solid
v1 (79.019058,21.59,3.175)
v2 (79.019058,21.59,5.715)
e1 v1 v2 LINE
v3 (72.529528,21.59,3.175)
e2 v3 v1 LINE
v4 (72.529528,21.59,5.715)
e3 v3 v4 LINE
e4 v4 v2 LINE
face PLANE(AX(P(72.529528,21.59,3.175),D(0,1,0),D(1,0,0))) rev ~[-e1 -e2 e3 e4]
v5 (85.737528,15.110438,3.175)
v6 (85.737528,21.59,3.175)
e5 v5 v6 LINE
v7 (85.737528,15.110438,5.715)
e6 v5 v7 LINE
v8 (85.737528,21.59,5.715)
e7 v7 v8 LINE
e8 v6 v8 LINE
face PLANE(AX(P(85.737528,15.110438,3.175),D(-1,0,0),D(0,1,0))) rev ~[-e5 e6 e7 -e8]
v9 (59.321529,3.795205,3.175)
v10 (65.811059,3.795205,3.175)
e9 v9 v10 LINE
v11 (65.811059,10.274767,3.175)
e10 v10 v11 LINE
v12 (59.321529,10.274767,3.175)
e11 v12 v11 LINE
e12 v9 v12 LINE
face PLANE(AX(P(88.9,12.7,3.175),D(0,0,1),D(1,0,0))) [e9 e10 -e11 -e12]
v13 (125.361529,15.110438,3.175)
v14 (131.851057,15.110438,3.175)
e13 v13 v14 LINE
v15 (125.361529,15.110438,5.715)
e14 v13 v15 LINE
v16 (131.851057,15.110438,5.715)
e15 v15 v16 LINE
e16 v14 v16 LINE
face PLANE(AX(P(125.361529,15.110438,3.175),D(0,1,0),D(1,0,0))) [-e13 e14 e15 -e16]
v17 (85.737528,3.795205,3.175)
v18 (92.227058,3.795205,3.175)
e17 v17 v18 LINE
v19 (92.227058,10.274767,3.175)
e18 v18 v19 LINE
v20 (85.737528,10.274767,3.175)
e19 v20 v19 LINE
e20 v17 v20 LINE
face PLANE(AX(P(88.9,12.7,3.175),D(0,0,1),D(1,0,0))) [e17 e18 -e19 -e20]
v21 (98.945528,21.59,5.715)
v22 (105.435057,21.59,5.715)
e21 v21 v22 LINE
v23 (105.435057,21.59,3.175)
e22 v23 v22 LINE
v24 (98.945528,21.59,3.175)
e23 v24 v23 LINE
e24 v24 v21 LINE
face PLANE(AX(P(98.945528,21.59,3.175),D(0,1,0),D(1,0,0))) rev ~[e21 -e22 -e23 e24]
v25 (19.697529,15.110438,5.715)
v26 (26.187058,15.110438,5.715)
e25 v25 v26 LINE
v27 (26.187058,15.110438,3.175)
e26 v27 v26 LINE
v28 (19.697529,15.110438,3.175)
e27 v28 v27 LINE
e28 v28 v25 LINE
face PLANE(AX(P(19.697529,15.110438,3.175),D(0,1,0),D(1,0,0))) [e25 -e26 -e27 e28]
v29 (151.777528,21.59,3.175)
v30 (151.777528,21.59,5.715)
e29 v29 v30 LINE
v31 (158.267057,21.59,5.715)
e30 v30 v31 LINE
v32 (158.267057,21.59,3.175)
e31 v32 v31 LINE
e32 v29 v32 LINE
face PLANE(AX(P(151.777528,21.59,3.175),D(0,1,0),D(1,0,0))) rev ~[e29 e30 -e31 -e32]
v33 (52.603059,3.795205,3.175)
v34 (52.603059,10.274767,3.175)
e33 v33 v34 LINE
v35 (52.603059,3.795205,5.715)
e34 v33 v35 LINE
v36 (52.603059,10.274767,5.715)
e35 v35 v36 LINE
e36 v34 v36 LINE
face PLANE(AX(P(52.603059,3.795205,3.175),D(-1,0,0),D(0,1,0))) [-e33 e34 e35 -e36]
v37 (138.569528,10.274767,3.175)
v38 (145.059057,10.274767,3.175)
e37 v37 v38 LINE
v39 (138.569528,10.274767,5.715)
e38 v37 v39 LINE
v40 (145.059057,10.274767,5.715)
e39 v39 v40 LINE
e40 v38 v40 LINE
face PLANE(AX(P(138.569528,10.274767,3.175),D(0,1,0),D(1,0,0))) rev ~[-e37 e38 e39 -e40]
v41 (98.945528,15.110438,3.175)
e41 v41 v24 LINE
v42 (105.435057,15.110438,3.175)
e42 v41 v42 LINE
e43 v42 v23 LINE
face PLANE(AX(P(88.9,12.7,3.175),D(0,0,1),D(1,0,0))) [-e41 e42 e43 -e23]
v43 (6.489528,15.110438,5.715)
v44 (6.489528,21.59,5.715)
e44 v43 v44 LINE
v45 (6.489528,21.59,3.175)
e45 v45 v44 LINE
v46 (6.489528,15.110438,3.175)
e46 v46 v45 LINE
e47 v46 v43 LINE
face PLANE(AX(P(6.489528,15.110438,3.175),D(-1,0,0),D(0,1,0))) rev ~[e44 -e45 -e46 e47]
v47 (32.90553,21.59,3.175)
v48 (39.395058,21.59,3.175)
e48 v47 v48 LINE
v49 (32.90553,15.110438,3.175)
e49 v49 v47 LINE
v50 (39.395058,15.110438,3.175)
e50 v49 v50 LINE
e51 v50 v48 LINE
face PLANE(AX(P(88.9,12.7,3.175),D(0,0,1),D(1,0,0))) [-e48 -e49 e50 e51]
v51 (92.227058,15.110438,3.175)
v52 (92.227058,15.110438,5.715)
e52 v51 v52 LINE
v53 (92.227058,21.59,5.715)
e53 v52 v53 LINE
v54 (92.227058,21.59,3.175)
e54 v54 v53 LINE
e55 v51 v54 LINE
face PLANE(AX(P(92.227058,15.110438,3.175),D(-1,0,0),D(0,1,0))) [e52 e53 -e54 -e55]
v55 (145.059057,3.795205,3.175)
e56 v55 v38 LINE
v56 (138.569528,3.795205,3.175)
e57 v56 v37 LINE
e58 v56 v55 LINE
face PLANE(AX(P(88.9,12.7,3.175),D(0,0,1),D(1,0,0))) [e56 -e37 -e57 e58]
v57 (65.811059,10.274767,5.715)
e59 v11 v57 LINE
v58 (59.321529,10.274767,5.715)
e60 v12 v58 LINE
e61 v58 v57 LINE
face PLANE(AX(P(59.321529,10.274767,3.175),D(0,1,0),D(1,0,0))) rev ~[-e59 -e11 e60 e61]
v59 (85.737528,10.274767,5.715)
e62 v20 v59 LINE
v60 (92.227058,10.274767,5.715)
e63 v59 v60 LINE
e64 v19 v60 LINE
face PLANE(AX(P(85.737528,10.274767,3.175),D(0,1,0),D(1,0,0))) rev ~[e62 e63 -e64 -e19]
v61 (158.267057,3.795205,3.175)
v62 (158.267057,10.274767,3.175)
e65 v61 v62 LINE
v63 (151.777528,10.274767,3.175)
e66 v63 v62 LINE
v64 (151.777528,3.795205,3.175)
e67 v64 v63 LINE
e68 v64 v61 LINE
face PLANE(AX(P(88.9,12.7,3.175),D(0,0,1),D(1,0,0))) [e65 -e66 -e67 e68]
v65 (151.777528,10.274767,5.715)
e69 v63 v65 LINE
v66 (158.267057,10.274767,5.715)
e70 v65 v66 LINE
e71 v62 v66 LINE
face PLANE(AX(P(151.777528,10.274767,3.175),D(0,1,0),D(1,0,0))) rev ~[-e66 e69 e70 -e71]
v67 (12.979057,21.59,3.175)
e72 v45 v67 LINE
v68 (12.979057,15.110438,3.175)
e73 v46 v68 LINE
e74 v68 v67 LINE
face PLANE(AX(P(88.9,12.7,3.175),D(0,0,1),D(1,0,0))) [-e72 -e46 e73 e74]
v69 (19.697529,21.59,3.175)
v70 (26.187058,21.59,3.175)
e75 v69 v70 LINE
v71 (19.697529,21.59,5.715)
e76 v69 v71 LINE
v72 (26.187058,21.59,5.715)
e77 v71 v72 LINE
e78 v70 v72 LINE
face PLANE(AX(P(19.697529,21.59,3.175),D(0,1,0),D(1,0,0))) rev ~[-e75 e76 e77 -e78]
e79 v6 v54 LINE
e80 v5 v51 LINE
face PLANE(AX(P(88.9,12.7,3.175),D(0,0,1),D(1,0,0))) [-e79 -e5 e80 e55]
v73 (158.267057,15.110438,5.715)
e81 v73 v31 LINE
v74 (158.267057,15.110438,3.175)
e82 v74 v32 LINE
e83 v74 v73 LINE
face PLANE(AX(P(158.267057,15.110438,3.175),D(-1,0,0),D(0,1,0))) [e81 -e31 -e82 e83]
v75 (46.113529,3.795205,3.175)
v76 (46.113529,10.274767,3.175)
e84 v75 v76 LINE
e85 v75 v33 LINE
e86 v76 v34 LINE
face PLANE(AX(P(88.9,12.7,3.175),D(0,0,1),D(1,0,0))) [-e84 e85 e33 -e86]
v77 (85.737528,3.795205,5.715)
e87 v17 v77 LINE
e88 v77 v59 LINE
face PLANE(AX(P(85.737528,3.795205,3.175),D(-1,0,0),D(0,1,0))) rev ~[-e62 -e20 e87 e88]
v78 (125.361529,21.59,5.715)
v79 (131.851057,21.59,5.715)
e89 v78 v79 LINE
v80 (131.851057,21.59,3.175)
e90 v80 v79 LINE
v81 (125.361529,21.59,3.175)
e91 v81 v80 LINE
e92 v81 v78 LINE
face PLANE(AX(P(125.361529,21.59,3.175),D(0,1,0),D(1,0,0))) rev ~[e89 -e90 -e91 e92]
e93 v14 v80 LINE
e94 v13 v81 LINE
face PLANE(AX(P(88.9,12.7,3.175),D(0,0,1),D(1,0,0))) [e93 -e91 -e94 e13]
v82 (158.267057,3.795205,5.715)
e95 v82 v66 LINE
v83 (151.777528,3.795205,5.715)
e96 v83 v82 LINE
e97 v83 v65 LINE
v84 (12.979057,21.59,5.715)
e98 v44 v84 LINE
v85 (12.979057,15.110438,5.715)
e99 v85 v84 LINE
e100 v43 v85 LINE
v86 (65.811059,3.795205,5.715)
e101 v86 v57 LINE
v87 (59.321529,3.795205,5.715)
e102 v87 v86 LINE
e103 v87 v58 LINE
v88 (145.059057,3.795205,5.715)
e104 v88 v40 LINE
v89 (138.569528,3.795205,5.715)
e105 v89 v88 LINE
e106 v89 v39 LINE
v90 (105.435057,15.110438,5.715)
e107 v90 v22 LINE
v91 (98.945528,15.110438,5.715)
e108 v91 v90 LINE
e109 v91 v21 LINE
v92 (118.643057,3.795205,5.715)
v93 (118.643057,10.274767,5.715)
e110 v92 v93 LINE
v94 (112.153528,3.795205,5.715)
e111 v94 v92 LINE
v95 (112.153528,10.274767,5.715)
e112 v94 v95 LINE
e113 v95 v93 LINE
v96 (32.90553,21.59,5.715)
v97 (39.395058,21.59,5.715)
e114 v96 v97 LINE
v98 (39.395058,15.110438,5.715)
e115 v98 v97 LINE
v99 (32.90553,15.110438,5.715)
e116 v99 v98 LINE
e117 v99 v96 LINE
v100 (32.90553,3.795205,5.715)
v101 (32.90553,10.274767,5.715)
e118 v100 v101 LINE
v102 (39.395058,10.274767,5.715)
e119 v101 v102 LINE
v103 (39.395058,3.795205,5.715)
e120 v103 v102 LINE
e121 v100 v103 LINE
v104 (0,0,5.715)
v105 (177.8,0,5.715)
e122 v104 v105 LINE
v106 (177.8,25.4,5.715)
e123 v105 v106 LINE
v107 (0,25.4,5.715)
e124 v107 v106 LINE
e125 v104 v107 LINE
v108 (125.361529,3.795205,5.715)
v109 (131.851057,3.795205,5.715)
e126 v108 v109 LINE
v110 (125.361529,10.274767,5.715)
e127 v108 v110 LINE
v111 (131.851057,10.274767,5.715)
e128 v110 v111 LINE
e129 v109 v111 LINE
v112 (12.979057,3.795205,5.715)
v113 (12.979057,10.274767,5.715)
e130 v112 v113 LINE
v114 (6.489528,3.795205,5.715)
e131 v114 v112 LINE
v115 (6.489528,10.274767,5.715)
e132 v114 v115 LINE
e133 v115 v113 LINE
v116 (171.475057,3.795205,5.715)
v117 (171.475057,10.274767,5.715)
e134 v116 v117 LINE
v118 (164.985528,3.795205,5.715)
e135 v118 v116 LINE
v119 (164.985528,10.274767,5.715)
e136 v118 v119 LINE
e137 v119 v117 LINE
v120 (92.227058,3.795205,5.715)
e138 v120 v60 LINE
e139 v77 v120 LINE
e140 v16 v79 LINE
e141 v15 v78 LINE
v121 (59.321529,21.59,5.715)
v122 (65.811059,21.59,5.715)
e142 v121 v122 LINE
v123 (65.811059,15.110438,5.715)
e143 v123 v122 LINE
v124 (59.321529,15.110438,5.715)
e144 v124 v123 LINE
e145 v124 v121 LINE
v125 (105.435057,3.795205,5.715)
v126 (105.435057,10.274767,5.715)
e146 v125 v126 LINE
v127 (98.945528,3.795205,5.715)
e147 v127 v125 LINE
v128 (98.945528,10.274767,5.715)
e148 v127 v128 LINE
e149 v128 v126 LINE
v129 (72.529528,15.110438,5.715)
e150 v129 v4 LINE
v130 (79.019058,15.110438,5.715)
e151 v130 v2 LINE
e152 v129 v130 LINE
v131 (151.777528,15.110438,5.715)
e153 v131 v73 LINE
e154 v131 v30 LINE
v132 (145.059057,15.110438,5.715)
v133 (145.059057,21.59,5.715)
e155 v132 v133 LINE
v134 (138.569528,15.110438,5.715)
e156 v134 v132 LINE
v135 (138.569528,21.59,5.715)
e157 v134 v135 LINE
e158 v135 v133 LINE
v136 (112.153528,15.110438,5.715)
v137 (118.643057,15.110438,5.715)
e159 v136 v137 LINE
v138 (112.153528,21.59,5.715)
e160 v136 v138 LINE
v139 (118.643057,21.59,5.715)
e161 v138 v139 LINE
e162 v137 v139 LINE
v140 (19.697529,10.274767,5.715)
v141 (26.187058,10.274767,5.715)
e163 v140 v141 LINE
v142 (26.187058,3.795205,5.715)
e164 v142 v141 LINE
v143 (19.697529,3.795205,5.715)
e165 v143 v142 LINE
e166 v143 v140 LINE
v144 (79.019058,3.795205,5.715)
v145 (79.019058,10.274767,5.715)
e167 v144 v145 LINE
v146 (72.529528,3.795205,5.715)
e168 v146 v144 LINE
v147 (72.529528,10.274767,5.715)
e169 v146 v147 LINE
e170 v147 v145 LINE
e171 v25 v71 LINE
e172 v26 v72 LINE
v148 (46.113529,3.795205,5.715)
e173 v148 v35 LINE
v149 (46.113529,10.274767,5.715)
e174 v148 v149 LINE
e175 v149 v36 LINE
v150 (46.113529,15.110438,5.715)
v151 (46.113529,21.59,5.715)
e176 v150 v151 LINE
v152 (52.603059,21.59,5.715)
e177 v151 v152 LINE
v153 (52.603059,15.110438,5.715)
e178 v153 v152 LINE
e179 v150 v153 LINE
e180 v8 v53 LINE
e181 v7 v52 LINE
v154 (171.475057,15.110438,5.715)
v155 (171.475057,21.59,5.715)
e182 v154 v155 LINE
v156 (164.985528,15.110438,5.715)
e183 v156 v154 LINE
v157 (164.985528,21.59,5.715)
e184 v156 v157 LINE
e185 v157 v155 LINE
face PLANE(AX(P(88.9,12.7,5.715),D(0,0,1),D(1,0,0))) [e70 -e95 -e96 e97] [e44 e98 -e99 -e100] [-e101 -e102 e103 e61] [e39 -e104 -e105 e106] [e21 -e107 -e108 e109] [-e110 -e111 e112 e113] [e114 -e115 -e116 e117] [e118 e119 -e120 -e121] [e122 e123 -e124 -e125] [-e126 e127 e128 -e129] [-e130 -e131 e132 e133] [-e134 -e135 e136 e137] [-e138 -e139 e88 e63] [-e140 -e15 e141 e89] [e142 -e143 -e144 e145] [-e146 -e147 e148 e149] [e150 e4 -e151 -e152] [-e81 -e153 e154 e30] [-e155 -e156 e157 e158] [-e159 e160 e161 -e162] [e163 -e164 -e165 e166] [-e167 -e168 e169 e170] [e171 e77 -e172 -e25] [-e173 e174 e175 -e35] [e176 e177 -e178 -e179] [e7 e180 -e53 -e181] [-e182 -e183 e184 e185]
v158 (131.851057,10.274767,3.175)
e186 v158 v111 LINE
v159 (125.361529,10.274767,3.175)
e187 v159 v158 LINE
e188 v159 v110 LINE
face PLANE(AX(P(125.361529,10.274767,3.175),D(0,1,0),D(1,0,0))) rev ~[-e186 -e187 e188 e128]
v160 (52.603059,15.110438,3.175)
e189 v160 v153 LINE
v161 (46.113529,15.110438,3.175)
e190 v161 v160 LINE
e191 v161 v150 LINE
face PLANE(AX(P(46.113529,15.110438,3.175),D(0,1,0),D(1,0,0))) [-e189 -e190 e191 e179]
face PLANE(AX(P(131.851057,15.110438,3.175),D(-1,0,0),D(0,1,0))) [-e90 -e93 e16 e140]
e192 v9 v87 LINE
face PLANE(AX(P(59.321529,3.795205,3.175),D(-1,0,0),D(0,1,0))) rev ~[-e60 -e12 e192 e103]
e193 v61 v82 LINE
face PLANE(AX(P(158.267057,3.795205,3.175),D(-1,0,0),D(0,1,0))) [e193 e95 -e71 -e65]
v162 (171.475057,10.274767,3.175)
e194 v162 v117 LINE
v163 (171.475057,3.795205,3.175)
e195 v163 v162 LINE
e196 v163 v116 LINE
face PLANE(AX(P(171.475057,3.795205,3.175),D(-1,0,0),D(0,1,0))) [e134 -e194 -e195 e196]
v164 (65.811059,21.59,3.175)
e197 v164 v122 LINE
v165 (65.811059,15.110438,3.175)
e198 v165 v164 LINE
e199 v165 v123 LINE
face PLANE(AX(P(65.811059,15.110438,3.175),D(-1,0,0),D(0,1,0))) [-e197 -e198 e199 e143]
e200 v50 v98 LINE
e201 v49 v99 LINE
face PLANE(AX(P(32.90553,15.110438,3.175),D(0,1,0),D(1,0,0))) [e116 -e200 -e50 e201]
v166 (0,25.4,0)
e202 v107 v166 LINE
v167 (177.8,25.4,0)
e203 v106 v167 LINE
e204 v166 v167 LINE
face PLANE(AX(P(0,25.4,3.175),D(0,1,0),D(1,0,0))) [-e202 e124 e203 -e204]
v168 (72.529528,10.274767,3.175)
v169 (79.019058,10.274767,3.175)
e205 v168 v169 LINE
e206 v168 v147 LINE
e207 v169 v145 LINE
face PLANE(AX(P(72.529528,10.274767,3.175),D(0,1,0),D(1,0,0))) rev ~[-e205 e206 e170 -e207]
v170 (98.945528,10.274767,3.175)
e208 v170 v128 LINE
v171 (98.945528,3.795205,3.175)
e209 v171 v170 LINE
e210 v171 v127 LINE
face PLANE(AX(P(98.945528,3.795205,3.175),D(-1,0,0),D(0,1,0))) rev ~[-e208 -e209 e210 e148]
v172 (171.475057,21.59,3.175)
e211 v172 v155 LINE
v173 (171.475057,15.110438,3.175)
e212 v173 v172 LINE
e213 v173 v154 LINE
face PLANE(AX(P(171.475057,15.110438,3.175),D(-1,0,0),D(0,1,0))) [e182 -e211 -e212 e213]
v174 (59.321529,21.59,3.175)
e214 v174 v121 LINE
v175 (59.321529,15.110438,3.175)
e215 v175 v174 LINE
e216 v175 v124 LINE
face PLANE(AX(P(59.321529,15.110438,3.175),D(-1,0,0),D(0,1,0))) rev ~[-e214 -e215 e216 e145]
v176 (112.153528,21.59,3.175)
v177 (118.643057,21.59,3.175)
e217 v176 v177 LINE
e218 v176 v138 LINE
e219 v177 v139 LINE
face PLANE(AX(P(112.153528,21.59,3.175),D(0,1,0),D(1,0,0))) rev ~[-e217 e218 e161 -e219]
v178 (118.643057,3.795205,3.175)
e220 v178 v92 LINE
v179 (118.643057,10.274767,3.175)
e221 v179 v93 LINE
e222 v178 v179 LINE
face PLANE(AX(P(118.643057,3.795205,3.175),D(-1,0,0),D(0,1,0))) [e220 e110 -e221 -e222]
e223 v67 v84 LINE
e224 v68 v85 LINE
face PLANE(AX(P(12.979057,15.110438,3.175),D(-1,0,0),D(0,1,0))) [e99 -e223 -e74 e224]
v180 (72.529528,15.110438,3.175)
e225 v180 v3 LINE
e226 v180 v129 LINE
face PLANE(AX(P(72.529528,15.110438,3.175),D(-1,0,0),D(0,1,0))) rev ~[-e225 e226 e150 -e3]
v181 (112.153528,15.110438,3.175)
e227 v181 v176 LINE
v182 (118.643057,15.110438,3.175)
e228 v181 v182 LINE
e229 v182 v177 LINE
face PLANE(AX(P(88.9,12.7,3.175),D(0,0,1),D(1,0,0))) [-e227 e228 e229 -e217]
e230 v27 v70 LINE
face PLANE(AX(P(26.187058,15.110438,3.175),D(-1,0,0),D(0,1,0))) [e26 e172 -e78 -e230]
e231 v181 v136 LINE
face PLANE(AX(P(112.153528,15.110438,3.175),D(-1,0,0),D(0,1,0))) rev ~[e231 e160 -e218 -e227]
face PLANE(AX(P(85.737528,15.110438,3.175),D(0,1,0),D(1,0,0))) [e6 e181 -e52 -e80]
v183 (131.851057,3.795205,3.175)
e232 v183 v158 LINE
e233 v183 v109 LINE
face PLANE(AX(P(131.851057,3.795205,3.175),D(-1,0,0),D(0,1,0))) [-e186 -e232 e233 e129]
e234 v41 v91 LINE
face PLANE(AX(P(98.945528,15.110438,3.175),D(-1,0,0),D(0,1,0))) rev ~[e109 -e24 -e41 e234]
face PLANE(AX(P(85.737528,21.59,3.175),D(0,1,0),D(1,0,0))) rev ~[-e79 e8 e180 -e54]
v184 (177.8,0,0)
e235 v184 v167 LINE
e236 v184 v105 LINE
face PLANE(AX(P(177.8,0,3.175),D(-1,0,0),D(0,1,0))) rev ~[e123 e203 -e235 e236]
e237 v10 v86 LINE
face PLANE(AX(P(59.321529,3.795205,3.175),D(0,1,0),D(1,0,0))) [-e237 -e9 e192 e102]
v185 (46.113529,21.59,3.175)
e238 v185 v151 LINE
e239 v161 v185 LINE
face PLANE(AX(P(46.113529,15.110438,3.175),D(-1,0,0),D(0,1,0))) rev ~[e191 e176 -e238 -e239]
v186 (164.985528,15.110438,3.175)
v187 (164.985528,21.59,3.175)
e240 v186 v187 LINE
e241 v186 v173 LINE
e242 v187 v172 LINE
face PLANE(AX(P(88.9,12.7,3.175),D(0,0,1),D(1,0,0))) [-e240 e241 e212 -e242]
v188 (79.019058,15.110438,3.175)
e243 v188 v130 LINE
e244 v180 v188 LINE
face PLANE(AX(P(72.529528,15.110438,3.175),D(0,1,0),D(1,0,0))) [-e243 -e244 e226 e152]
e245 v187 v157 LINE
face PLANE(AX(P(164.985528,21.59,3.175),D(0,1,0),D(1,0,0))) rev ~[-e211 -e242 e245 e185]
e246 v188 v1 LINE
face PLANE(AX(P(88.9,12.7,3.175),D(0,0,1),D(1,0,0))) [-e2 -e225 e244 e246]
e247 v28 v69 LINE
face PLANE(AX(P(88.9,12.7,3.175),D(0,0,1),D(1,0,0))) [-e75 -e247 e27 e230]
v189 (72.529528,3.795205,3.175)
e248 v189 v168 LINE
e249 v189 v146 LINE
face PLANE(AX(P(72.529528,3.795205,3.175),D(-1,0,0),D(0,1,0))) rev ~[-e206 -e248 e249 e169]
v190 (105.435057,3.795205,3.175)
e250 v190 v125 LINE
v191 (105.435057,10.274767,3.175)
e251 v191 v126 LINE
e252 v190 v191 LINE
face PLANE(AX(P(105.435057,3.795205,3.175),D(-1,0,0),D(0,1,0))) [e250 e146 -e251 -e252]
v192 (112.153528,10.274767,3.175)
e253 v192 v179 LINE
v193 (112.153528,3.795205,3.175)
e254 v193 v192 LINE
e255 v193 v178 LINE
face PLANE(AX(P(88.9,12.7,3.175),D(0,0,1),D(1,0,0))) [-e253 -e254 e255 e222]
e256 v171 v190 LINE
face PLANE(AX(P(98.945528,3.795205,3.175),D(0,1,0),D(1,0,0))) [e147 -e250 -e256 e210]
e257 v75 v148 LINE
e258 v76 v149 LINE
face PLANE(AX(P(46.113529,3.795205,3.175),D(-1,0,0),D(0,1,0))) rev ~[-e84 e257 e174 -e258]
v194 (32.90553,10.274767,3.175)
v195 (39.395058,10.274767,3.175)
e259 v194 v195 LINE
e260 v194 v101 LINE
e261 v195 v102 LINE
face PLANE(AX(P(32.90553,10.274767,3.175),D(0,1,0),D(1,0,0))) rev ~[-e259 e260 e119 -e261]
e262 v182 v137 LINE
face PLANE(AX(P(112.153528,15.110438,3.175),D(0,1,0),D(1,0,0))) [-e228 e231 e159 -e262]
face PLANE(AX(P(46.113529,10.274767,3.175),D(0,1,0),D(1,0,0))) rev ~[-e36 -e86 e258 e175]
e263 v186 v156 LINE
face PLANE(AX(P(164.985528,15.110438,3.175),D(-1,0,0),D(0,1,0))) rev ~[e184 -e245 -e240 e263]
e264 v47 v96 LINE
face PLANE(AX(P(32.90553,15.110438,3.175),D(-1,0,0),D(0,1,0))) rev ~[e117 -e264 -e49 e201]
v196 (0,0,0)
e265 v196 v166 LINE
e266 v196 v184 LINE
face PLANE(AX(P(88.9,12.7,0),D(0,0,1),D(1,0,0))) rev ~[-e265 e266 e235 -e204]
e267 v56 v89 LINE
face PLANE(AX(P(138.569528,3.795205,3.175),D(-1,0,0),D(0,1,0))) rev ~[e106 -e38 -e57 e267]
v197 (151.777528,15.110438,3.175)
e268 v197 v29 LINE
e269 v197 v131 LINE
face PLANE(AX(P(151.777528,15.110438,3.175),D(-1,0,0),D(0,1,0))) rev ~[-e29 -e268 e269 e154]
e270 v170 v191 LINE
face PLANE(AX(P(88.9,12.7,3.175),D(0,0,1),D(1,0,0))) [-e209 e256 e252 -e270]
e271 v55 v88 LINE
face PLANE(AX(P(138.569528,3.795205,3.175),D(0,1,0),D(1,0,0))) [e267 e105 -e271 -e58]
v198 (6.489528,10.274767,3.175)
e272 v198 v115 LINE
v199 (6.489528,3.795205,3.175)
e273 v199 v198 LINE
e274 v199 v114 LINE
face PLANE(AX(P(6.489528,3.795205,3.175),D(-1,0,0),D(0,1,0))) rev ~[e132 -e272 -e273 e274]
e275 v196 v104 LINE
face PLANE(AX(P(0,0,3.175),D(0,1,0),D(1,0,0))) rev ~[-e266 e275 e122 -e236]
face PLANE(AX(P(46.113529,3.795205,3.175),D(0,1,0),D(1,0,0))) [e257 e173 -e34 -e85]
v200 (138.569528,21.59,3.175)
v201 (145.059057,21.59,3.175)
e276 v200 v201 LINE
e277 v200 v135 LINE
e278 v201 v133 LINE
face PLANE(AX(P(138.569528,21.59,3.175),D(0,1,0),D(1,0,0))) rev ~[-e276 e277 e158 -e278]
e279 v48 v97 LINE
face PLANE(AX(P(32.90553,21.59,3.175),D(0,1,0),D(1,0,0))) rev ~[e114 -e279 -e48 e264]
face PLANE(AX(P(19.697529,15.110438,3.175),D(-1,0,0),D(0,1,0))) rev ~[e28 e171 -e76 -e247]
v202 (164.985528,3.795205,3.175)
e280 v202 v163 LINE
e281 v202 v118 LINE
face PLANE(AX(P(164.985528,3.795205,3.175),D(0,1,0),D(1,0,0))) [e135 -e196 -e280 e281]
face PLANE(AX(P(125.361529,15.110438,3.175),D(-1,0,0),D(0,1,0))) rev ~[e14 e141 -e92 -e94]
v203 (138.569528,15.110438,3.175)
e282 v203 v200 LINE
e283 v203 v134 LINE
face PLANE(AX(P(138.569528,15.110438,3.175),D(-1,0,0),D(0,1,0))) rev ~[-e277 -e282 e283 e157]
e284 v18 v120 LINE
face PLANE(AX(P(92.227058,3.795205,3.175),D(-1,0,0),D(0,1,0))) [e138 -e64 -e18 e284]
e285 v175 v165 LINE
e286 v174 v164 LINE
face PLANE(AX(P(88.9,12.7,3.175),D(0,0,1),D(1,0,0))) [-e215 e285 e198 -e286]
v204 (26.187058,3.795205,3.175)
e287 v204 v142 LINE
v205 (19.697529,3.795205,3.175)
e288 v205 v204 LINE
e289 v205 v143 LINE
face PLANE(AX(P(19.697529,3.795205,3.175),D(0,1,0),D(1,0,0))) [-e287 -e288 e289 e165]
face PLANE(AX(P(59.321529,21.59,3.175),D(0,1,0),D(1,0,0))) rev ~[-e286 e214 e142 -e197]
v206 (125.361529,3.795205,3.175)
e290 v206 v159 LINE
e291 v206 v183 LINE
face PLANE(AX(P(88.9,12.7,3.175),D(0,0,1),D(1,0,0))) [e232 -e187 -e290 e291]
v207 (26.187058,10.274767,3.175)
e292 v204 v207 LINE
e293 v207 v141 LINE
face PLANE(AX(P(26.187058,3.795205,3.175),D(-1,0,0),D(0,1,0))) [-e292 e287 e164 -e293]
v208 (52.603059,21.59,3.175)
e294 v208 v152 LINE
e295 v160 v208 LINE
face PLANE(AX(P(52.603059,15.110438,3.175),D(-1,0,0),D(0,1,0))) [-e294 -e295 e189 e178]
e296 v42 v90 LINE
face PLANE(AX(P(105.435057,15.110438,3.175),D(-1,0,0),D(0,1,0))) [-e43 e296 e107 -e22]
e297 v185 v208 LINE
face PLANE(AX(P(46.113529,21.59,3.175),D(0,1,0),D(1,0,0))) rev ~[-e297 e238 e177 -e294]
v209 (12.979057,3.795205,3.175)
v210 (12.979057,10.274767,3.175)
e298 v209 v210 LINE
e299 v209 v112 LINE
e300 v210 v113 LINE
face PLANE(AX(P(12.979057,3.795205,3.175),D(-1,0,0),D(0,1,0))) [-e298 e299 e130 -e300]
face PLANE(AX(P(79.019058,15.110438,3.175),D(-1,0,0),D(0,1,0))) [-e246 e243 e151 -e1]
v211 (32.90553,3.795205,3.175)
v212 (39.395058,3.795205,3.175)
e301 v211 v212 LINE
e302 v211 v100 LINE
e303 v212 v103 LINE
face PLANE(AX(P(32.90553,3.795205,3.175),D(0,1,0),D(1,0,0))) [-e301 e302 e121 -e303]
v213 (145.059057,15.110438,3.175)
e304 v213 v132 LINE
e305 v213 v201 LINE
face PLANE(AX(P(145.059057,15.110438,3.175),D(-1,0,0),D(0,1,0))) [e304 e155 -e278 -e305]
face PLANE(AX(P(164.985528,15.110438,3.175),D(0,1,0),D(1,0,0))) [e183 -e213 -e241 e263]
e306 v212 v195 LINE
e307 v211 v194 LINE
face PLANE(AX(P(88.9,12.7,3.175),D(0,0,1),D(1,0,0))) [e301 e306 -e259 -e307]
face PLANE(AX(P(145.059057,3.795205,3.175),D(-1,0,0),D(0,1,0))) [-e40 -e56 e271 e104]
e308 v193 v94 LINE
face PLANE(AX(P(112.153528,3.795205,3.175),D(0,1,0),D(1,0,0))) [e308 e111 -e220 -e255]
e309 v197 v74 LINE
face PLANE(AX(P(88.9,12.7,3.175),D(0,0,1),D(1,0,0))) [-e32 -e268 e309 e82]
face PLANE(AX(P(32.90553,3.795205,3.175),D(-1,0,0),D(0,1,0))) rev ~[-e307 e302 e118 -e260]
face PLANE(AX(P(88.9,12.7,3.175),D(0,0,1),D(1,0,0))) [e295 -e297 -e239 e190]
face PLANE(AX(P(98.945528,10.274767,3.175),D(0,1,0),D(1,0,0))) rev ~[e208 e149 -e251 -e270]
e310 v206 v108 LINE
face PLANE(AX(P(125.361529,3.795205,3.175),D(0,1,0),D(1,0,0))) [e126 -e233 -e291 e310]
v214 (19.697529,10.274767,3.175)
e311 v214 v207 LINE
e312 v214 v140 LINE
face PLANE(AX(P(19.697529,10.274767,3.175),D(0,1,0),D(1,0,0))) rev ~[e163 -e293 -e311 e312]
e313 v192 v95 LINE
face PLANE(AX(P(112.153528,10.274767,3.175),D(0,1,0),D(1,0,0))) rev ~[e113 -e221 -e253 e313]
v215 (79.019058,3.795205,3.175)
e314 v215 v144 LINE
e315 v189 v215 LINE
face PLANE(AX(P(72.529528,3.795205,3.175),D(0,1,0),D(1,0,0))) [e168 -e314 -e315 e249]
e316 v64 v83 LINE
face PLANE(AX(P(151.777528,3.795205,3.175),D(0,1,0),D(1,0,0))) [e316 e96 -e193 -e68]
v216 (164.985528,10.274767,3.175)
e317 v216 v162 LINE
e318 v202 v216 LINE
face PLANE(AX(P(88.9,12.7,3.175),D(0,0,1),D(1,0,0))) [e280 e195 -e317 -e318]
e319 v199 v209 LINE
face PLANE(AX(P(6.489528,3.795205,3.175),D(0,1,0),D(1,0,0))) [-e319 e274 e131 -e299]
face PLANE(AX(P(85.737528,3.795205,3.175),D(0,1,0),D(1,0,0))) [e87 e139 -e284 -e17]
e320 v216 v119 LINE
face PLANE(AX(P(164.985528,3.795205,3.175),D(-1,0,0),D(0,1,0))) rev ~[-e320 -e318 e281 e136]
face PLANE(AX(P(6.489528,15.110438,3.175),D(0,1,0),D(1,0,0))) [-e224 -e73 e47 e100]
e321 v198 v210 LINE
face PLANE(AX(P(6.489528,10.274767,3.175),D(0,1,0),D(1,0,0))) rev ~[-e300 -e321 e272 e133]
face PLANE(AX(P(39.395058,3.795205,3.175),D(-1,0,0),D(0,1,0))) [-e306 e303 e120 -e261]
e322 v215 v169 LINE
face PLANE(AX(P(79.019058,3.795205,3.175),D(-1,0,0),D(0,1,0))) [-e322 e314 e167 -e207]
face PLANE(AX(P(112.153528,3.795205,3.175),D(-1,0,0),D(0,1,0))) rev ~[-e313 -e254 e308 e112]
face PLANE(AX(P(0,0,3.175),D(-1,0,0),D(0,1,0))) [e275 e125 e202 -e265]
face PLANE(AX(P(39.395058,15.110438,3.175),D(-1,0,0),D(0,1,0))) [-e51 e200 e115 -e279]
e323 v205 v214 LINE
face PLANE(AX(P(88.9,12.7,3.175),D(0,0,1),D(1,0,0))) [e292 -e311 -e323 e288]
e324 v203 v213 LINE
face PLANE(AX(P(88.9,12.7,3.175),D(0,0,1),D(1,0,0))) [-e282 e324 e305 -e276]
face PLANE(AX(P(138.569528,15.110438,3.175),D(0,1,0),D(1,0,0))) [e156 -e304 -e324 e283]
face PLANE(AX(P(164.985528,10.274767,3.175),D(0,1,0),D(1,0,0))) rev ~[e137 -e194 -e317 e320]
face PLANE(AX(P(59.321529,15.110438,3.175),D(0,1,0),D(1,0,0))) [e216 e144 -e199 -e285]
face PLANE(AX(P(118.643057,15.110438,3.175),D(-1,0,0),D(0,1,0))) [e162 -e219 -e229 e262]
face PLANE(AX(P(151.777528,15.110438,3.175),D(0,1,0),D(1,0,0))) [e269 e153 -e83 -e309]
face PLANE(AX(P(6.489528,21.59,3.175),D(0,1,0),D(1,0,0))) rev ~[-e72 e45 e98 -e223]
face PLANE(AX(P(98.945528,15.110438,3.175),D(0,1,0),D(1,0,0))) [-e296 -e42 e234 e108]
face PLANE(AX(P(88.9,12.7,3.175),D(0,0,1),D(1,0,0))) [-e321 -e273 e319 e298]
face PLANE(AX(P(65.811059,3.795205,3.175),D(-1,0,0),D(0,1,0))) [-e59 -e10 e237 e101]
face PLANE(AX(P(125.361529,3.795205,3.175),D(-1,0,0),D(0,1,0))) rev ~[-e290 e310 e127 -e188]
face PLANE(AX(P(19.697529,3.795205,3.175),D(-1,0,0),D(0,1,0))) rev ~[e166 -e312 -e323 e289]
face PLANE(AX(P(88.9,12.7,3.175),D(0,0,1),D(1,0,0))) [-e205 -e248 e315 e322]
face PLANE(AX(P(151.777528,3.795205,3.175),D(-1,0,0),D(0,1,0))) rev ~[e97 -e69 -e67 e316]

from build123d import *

# Parameters (mm, degrees)
F0_W     = 177.8
F0_H     = 25.4
F1_DEPTH = 3.175
F2_W     = 177.8
F2_H     = 25.4
F2_W_2   = 6.489529
F2_H_2   = 6.479562
F3_DEPTH = 2.54


with BuildPart() as f1:
    # F0 (on Top) → F1 (new body)
    with BuildSketch(Plane.XY):
        with Locations((88.9, 12.7)):
            Rectangle(F0_W, F0_H)
    extrude(amount=F1_DEPTH)

    # F2 (on face) → F3 (join)
    with BuildSketch(Plane.XY.offset(3.175)):
        with Locations((88.9, 12.7)):
            Rectangle(F2_W, F2_H)
        with Locations((9.734293, 7.034986)):
            Rectangle(F2_W_2, F2_H_2, mode=Mode.SUBTRACT)
        with Locations((22.942293, 7.034986)):
            Rectangle(F2_W_2, F2_H_2, mode=Mode.SUBTRACT)
        with Locations((36.150294, 7.034986)):
            Rectangle(F2_W_2, F2_H_2, mode=Mode.SUBTRACT)
        with Locations((49.358294, 7.034986)):
            Rectangle(F2_W_2, F2_H_2, mode=Mode.SUBTRACT)
        with Locations((62.566294, 7.034986)):
            Rectangle(F2_W_2, F2_H_2, mode=Mode.SUBTRACT)
        with Locations((75.774293, 7.034986)):
            Rectangle(F2_W_2, F2_H_2, mode=Mode.SUBTRACT)
        with Locations((88.982293, 7.034986)):
            Rectangle(F2_W_2, F2_H_2, mode=Mode.SUBTRACT)
        with Locations((102.190293, 7.034986)):
            Rectangle(F2_W_2, F2_H_2, mode=Mode.SUBTRACT)
        with Locations((115.398293, 7.034986)):
            Rectangle(F2_W_2, F2_H_2, mode=Mode.SUBTRACT)
        with Locations((128.606293, 7.034986)):
            Rectangle(F2_W_2, F2_H_2, mode=Mode.SUBTRACT)
        with Locations((141.814293, 7.034986)):
            Rectangle(F2_W_2, F2_H_2, mode=Mode.SUBTRACT)
        with Locations((155.022293, 7.034986)):
            Rectangle(F2_W_2, F2_H_2, mode=Mode.SUBTRACT)
        with Locations((168.230293, 7.034986)):
            Rectangle(F2_W_2, F2_H_2, mode=Mode.SUBTRACT)
        with Locations((9.734293, 18.350219)):
            Rectangle(F2_W_2, F2_H_2, mode=Mode.SUBTRACT)
        with Locations((22.942293, 18.350219)):
            Rectangle(F2_W_2, F2_H_2, mode=Mode.SUBTRACT)
        with Locations((36.150294, 18.350219)):
            Rectangle(F2_W_2, F2_H_2, mode=Mode.SUBTRACT)
        with Locations((49.358294, 18.350219)):
            Rectangle(F2_W_2, F2_H_2, mode=Mode.SUBTRACT)
        with Locations((62.566294, 18.350219)):
            Rectangle(F2_W_2, F2_H_2, mode=Mode.SUBTRACT)
        with Locations((75.774293, 18.350219)):
            Rectangle(F2_W_2, F2_H_2, mode=Mode.SUBTRACT)
        with Locations((88.982293, 18.350219)):
            Rectangle(F2_W_2, F2_H_2, mode=Mode.SUBTRACT)
        with Locations((102.190293, 18.350219)):
            Rectangle(F2_W_2, F2_H_2, mode=Mode.SUBTRACT)
        with Locations((115.398293, 18.350219)):
            Rectangle(F2_W_2, F2_H_2, mode=Mode.SUBTRACT)
        with Locations((128.606293, 18.350219)):
            Rectangle(F2_W_2, F2_H_2, mode=Mode.SUBTRACT)
        with Locations((141.814293, 18.350219)):
            Rectangle(F2_W_2, F2_H_2, mode=Mode.SUBTRACT)
        with Locations((155.022293, 18.350219)):
            Rectangle(F2_W_2, F2_H_2, mode=Mode.SUBTRACT)
        with Locations((168.230293, 18.350219)):
            Rectangle(F2_W_2, F2_H_2, mode=Mode.SUBTRACT)
    extrude(amount=F3_DEPTH)


solid = f1.part
